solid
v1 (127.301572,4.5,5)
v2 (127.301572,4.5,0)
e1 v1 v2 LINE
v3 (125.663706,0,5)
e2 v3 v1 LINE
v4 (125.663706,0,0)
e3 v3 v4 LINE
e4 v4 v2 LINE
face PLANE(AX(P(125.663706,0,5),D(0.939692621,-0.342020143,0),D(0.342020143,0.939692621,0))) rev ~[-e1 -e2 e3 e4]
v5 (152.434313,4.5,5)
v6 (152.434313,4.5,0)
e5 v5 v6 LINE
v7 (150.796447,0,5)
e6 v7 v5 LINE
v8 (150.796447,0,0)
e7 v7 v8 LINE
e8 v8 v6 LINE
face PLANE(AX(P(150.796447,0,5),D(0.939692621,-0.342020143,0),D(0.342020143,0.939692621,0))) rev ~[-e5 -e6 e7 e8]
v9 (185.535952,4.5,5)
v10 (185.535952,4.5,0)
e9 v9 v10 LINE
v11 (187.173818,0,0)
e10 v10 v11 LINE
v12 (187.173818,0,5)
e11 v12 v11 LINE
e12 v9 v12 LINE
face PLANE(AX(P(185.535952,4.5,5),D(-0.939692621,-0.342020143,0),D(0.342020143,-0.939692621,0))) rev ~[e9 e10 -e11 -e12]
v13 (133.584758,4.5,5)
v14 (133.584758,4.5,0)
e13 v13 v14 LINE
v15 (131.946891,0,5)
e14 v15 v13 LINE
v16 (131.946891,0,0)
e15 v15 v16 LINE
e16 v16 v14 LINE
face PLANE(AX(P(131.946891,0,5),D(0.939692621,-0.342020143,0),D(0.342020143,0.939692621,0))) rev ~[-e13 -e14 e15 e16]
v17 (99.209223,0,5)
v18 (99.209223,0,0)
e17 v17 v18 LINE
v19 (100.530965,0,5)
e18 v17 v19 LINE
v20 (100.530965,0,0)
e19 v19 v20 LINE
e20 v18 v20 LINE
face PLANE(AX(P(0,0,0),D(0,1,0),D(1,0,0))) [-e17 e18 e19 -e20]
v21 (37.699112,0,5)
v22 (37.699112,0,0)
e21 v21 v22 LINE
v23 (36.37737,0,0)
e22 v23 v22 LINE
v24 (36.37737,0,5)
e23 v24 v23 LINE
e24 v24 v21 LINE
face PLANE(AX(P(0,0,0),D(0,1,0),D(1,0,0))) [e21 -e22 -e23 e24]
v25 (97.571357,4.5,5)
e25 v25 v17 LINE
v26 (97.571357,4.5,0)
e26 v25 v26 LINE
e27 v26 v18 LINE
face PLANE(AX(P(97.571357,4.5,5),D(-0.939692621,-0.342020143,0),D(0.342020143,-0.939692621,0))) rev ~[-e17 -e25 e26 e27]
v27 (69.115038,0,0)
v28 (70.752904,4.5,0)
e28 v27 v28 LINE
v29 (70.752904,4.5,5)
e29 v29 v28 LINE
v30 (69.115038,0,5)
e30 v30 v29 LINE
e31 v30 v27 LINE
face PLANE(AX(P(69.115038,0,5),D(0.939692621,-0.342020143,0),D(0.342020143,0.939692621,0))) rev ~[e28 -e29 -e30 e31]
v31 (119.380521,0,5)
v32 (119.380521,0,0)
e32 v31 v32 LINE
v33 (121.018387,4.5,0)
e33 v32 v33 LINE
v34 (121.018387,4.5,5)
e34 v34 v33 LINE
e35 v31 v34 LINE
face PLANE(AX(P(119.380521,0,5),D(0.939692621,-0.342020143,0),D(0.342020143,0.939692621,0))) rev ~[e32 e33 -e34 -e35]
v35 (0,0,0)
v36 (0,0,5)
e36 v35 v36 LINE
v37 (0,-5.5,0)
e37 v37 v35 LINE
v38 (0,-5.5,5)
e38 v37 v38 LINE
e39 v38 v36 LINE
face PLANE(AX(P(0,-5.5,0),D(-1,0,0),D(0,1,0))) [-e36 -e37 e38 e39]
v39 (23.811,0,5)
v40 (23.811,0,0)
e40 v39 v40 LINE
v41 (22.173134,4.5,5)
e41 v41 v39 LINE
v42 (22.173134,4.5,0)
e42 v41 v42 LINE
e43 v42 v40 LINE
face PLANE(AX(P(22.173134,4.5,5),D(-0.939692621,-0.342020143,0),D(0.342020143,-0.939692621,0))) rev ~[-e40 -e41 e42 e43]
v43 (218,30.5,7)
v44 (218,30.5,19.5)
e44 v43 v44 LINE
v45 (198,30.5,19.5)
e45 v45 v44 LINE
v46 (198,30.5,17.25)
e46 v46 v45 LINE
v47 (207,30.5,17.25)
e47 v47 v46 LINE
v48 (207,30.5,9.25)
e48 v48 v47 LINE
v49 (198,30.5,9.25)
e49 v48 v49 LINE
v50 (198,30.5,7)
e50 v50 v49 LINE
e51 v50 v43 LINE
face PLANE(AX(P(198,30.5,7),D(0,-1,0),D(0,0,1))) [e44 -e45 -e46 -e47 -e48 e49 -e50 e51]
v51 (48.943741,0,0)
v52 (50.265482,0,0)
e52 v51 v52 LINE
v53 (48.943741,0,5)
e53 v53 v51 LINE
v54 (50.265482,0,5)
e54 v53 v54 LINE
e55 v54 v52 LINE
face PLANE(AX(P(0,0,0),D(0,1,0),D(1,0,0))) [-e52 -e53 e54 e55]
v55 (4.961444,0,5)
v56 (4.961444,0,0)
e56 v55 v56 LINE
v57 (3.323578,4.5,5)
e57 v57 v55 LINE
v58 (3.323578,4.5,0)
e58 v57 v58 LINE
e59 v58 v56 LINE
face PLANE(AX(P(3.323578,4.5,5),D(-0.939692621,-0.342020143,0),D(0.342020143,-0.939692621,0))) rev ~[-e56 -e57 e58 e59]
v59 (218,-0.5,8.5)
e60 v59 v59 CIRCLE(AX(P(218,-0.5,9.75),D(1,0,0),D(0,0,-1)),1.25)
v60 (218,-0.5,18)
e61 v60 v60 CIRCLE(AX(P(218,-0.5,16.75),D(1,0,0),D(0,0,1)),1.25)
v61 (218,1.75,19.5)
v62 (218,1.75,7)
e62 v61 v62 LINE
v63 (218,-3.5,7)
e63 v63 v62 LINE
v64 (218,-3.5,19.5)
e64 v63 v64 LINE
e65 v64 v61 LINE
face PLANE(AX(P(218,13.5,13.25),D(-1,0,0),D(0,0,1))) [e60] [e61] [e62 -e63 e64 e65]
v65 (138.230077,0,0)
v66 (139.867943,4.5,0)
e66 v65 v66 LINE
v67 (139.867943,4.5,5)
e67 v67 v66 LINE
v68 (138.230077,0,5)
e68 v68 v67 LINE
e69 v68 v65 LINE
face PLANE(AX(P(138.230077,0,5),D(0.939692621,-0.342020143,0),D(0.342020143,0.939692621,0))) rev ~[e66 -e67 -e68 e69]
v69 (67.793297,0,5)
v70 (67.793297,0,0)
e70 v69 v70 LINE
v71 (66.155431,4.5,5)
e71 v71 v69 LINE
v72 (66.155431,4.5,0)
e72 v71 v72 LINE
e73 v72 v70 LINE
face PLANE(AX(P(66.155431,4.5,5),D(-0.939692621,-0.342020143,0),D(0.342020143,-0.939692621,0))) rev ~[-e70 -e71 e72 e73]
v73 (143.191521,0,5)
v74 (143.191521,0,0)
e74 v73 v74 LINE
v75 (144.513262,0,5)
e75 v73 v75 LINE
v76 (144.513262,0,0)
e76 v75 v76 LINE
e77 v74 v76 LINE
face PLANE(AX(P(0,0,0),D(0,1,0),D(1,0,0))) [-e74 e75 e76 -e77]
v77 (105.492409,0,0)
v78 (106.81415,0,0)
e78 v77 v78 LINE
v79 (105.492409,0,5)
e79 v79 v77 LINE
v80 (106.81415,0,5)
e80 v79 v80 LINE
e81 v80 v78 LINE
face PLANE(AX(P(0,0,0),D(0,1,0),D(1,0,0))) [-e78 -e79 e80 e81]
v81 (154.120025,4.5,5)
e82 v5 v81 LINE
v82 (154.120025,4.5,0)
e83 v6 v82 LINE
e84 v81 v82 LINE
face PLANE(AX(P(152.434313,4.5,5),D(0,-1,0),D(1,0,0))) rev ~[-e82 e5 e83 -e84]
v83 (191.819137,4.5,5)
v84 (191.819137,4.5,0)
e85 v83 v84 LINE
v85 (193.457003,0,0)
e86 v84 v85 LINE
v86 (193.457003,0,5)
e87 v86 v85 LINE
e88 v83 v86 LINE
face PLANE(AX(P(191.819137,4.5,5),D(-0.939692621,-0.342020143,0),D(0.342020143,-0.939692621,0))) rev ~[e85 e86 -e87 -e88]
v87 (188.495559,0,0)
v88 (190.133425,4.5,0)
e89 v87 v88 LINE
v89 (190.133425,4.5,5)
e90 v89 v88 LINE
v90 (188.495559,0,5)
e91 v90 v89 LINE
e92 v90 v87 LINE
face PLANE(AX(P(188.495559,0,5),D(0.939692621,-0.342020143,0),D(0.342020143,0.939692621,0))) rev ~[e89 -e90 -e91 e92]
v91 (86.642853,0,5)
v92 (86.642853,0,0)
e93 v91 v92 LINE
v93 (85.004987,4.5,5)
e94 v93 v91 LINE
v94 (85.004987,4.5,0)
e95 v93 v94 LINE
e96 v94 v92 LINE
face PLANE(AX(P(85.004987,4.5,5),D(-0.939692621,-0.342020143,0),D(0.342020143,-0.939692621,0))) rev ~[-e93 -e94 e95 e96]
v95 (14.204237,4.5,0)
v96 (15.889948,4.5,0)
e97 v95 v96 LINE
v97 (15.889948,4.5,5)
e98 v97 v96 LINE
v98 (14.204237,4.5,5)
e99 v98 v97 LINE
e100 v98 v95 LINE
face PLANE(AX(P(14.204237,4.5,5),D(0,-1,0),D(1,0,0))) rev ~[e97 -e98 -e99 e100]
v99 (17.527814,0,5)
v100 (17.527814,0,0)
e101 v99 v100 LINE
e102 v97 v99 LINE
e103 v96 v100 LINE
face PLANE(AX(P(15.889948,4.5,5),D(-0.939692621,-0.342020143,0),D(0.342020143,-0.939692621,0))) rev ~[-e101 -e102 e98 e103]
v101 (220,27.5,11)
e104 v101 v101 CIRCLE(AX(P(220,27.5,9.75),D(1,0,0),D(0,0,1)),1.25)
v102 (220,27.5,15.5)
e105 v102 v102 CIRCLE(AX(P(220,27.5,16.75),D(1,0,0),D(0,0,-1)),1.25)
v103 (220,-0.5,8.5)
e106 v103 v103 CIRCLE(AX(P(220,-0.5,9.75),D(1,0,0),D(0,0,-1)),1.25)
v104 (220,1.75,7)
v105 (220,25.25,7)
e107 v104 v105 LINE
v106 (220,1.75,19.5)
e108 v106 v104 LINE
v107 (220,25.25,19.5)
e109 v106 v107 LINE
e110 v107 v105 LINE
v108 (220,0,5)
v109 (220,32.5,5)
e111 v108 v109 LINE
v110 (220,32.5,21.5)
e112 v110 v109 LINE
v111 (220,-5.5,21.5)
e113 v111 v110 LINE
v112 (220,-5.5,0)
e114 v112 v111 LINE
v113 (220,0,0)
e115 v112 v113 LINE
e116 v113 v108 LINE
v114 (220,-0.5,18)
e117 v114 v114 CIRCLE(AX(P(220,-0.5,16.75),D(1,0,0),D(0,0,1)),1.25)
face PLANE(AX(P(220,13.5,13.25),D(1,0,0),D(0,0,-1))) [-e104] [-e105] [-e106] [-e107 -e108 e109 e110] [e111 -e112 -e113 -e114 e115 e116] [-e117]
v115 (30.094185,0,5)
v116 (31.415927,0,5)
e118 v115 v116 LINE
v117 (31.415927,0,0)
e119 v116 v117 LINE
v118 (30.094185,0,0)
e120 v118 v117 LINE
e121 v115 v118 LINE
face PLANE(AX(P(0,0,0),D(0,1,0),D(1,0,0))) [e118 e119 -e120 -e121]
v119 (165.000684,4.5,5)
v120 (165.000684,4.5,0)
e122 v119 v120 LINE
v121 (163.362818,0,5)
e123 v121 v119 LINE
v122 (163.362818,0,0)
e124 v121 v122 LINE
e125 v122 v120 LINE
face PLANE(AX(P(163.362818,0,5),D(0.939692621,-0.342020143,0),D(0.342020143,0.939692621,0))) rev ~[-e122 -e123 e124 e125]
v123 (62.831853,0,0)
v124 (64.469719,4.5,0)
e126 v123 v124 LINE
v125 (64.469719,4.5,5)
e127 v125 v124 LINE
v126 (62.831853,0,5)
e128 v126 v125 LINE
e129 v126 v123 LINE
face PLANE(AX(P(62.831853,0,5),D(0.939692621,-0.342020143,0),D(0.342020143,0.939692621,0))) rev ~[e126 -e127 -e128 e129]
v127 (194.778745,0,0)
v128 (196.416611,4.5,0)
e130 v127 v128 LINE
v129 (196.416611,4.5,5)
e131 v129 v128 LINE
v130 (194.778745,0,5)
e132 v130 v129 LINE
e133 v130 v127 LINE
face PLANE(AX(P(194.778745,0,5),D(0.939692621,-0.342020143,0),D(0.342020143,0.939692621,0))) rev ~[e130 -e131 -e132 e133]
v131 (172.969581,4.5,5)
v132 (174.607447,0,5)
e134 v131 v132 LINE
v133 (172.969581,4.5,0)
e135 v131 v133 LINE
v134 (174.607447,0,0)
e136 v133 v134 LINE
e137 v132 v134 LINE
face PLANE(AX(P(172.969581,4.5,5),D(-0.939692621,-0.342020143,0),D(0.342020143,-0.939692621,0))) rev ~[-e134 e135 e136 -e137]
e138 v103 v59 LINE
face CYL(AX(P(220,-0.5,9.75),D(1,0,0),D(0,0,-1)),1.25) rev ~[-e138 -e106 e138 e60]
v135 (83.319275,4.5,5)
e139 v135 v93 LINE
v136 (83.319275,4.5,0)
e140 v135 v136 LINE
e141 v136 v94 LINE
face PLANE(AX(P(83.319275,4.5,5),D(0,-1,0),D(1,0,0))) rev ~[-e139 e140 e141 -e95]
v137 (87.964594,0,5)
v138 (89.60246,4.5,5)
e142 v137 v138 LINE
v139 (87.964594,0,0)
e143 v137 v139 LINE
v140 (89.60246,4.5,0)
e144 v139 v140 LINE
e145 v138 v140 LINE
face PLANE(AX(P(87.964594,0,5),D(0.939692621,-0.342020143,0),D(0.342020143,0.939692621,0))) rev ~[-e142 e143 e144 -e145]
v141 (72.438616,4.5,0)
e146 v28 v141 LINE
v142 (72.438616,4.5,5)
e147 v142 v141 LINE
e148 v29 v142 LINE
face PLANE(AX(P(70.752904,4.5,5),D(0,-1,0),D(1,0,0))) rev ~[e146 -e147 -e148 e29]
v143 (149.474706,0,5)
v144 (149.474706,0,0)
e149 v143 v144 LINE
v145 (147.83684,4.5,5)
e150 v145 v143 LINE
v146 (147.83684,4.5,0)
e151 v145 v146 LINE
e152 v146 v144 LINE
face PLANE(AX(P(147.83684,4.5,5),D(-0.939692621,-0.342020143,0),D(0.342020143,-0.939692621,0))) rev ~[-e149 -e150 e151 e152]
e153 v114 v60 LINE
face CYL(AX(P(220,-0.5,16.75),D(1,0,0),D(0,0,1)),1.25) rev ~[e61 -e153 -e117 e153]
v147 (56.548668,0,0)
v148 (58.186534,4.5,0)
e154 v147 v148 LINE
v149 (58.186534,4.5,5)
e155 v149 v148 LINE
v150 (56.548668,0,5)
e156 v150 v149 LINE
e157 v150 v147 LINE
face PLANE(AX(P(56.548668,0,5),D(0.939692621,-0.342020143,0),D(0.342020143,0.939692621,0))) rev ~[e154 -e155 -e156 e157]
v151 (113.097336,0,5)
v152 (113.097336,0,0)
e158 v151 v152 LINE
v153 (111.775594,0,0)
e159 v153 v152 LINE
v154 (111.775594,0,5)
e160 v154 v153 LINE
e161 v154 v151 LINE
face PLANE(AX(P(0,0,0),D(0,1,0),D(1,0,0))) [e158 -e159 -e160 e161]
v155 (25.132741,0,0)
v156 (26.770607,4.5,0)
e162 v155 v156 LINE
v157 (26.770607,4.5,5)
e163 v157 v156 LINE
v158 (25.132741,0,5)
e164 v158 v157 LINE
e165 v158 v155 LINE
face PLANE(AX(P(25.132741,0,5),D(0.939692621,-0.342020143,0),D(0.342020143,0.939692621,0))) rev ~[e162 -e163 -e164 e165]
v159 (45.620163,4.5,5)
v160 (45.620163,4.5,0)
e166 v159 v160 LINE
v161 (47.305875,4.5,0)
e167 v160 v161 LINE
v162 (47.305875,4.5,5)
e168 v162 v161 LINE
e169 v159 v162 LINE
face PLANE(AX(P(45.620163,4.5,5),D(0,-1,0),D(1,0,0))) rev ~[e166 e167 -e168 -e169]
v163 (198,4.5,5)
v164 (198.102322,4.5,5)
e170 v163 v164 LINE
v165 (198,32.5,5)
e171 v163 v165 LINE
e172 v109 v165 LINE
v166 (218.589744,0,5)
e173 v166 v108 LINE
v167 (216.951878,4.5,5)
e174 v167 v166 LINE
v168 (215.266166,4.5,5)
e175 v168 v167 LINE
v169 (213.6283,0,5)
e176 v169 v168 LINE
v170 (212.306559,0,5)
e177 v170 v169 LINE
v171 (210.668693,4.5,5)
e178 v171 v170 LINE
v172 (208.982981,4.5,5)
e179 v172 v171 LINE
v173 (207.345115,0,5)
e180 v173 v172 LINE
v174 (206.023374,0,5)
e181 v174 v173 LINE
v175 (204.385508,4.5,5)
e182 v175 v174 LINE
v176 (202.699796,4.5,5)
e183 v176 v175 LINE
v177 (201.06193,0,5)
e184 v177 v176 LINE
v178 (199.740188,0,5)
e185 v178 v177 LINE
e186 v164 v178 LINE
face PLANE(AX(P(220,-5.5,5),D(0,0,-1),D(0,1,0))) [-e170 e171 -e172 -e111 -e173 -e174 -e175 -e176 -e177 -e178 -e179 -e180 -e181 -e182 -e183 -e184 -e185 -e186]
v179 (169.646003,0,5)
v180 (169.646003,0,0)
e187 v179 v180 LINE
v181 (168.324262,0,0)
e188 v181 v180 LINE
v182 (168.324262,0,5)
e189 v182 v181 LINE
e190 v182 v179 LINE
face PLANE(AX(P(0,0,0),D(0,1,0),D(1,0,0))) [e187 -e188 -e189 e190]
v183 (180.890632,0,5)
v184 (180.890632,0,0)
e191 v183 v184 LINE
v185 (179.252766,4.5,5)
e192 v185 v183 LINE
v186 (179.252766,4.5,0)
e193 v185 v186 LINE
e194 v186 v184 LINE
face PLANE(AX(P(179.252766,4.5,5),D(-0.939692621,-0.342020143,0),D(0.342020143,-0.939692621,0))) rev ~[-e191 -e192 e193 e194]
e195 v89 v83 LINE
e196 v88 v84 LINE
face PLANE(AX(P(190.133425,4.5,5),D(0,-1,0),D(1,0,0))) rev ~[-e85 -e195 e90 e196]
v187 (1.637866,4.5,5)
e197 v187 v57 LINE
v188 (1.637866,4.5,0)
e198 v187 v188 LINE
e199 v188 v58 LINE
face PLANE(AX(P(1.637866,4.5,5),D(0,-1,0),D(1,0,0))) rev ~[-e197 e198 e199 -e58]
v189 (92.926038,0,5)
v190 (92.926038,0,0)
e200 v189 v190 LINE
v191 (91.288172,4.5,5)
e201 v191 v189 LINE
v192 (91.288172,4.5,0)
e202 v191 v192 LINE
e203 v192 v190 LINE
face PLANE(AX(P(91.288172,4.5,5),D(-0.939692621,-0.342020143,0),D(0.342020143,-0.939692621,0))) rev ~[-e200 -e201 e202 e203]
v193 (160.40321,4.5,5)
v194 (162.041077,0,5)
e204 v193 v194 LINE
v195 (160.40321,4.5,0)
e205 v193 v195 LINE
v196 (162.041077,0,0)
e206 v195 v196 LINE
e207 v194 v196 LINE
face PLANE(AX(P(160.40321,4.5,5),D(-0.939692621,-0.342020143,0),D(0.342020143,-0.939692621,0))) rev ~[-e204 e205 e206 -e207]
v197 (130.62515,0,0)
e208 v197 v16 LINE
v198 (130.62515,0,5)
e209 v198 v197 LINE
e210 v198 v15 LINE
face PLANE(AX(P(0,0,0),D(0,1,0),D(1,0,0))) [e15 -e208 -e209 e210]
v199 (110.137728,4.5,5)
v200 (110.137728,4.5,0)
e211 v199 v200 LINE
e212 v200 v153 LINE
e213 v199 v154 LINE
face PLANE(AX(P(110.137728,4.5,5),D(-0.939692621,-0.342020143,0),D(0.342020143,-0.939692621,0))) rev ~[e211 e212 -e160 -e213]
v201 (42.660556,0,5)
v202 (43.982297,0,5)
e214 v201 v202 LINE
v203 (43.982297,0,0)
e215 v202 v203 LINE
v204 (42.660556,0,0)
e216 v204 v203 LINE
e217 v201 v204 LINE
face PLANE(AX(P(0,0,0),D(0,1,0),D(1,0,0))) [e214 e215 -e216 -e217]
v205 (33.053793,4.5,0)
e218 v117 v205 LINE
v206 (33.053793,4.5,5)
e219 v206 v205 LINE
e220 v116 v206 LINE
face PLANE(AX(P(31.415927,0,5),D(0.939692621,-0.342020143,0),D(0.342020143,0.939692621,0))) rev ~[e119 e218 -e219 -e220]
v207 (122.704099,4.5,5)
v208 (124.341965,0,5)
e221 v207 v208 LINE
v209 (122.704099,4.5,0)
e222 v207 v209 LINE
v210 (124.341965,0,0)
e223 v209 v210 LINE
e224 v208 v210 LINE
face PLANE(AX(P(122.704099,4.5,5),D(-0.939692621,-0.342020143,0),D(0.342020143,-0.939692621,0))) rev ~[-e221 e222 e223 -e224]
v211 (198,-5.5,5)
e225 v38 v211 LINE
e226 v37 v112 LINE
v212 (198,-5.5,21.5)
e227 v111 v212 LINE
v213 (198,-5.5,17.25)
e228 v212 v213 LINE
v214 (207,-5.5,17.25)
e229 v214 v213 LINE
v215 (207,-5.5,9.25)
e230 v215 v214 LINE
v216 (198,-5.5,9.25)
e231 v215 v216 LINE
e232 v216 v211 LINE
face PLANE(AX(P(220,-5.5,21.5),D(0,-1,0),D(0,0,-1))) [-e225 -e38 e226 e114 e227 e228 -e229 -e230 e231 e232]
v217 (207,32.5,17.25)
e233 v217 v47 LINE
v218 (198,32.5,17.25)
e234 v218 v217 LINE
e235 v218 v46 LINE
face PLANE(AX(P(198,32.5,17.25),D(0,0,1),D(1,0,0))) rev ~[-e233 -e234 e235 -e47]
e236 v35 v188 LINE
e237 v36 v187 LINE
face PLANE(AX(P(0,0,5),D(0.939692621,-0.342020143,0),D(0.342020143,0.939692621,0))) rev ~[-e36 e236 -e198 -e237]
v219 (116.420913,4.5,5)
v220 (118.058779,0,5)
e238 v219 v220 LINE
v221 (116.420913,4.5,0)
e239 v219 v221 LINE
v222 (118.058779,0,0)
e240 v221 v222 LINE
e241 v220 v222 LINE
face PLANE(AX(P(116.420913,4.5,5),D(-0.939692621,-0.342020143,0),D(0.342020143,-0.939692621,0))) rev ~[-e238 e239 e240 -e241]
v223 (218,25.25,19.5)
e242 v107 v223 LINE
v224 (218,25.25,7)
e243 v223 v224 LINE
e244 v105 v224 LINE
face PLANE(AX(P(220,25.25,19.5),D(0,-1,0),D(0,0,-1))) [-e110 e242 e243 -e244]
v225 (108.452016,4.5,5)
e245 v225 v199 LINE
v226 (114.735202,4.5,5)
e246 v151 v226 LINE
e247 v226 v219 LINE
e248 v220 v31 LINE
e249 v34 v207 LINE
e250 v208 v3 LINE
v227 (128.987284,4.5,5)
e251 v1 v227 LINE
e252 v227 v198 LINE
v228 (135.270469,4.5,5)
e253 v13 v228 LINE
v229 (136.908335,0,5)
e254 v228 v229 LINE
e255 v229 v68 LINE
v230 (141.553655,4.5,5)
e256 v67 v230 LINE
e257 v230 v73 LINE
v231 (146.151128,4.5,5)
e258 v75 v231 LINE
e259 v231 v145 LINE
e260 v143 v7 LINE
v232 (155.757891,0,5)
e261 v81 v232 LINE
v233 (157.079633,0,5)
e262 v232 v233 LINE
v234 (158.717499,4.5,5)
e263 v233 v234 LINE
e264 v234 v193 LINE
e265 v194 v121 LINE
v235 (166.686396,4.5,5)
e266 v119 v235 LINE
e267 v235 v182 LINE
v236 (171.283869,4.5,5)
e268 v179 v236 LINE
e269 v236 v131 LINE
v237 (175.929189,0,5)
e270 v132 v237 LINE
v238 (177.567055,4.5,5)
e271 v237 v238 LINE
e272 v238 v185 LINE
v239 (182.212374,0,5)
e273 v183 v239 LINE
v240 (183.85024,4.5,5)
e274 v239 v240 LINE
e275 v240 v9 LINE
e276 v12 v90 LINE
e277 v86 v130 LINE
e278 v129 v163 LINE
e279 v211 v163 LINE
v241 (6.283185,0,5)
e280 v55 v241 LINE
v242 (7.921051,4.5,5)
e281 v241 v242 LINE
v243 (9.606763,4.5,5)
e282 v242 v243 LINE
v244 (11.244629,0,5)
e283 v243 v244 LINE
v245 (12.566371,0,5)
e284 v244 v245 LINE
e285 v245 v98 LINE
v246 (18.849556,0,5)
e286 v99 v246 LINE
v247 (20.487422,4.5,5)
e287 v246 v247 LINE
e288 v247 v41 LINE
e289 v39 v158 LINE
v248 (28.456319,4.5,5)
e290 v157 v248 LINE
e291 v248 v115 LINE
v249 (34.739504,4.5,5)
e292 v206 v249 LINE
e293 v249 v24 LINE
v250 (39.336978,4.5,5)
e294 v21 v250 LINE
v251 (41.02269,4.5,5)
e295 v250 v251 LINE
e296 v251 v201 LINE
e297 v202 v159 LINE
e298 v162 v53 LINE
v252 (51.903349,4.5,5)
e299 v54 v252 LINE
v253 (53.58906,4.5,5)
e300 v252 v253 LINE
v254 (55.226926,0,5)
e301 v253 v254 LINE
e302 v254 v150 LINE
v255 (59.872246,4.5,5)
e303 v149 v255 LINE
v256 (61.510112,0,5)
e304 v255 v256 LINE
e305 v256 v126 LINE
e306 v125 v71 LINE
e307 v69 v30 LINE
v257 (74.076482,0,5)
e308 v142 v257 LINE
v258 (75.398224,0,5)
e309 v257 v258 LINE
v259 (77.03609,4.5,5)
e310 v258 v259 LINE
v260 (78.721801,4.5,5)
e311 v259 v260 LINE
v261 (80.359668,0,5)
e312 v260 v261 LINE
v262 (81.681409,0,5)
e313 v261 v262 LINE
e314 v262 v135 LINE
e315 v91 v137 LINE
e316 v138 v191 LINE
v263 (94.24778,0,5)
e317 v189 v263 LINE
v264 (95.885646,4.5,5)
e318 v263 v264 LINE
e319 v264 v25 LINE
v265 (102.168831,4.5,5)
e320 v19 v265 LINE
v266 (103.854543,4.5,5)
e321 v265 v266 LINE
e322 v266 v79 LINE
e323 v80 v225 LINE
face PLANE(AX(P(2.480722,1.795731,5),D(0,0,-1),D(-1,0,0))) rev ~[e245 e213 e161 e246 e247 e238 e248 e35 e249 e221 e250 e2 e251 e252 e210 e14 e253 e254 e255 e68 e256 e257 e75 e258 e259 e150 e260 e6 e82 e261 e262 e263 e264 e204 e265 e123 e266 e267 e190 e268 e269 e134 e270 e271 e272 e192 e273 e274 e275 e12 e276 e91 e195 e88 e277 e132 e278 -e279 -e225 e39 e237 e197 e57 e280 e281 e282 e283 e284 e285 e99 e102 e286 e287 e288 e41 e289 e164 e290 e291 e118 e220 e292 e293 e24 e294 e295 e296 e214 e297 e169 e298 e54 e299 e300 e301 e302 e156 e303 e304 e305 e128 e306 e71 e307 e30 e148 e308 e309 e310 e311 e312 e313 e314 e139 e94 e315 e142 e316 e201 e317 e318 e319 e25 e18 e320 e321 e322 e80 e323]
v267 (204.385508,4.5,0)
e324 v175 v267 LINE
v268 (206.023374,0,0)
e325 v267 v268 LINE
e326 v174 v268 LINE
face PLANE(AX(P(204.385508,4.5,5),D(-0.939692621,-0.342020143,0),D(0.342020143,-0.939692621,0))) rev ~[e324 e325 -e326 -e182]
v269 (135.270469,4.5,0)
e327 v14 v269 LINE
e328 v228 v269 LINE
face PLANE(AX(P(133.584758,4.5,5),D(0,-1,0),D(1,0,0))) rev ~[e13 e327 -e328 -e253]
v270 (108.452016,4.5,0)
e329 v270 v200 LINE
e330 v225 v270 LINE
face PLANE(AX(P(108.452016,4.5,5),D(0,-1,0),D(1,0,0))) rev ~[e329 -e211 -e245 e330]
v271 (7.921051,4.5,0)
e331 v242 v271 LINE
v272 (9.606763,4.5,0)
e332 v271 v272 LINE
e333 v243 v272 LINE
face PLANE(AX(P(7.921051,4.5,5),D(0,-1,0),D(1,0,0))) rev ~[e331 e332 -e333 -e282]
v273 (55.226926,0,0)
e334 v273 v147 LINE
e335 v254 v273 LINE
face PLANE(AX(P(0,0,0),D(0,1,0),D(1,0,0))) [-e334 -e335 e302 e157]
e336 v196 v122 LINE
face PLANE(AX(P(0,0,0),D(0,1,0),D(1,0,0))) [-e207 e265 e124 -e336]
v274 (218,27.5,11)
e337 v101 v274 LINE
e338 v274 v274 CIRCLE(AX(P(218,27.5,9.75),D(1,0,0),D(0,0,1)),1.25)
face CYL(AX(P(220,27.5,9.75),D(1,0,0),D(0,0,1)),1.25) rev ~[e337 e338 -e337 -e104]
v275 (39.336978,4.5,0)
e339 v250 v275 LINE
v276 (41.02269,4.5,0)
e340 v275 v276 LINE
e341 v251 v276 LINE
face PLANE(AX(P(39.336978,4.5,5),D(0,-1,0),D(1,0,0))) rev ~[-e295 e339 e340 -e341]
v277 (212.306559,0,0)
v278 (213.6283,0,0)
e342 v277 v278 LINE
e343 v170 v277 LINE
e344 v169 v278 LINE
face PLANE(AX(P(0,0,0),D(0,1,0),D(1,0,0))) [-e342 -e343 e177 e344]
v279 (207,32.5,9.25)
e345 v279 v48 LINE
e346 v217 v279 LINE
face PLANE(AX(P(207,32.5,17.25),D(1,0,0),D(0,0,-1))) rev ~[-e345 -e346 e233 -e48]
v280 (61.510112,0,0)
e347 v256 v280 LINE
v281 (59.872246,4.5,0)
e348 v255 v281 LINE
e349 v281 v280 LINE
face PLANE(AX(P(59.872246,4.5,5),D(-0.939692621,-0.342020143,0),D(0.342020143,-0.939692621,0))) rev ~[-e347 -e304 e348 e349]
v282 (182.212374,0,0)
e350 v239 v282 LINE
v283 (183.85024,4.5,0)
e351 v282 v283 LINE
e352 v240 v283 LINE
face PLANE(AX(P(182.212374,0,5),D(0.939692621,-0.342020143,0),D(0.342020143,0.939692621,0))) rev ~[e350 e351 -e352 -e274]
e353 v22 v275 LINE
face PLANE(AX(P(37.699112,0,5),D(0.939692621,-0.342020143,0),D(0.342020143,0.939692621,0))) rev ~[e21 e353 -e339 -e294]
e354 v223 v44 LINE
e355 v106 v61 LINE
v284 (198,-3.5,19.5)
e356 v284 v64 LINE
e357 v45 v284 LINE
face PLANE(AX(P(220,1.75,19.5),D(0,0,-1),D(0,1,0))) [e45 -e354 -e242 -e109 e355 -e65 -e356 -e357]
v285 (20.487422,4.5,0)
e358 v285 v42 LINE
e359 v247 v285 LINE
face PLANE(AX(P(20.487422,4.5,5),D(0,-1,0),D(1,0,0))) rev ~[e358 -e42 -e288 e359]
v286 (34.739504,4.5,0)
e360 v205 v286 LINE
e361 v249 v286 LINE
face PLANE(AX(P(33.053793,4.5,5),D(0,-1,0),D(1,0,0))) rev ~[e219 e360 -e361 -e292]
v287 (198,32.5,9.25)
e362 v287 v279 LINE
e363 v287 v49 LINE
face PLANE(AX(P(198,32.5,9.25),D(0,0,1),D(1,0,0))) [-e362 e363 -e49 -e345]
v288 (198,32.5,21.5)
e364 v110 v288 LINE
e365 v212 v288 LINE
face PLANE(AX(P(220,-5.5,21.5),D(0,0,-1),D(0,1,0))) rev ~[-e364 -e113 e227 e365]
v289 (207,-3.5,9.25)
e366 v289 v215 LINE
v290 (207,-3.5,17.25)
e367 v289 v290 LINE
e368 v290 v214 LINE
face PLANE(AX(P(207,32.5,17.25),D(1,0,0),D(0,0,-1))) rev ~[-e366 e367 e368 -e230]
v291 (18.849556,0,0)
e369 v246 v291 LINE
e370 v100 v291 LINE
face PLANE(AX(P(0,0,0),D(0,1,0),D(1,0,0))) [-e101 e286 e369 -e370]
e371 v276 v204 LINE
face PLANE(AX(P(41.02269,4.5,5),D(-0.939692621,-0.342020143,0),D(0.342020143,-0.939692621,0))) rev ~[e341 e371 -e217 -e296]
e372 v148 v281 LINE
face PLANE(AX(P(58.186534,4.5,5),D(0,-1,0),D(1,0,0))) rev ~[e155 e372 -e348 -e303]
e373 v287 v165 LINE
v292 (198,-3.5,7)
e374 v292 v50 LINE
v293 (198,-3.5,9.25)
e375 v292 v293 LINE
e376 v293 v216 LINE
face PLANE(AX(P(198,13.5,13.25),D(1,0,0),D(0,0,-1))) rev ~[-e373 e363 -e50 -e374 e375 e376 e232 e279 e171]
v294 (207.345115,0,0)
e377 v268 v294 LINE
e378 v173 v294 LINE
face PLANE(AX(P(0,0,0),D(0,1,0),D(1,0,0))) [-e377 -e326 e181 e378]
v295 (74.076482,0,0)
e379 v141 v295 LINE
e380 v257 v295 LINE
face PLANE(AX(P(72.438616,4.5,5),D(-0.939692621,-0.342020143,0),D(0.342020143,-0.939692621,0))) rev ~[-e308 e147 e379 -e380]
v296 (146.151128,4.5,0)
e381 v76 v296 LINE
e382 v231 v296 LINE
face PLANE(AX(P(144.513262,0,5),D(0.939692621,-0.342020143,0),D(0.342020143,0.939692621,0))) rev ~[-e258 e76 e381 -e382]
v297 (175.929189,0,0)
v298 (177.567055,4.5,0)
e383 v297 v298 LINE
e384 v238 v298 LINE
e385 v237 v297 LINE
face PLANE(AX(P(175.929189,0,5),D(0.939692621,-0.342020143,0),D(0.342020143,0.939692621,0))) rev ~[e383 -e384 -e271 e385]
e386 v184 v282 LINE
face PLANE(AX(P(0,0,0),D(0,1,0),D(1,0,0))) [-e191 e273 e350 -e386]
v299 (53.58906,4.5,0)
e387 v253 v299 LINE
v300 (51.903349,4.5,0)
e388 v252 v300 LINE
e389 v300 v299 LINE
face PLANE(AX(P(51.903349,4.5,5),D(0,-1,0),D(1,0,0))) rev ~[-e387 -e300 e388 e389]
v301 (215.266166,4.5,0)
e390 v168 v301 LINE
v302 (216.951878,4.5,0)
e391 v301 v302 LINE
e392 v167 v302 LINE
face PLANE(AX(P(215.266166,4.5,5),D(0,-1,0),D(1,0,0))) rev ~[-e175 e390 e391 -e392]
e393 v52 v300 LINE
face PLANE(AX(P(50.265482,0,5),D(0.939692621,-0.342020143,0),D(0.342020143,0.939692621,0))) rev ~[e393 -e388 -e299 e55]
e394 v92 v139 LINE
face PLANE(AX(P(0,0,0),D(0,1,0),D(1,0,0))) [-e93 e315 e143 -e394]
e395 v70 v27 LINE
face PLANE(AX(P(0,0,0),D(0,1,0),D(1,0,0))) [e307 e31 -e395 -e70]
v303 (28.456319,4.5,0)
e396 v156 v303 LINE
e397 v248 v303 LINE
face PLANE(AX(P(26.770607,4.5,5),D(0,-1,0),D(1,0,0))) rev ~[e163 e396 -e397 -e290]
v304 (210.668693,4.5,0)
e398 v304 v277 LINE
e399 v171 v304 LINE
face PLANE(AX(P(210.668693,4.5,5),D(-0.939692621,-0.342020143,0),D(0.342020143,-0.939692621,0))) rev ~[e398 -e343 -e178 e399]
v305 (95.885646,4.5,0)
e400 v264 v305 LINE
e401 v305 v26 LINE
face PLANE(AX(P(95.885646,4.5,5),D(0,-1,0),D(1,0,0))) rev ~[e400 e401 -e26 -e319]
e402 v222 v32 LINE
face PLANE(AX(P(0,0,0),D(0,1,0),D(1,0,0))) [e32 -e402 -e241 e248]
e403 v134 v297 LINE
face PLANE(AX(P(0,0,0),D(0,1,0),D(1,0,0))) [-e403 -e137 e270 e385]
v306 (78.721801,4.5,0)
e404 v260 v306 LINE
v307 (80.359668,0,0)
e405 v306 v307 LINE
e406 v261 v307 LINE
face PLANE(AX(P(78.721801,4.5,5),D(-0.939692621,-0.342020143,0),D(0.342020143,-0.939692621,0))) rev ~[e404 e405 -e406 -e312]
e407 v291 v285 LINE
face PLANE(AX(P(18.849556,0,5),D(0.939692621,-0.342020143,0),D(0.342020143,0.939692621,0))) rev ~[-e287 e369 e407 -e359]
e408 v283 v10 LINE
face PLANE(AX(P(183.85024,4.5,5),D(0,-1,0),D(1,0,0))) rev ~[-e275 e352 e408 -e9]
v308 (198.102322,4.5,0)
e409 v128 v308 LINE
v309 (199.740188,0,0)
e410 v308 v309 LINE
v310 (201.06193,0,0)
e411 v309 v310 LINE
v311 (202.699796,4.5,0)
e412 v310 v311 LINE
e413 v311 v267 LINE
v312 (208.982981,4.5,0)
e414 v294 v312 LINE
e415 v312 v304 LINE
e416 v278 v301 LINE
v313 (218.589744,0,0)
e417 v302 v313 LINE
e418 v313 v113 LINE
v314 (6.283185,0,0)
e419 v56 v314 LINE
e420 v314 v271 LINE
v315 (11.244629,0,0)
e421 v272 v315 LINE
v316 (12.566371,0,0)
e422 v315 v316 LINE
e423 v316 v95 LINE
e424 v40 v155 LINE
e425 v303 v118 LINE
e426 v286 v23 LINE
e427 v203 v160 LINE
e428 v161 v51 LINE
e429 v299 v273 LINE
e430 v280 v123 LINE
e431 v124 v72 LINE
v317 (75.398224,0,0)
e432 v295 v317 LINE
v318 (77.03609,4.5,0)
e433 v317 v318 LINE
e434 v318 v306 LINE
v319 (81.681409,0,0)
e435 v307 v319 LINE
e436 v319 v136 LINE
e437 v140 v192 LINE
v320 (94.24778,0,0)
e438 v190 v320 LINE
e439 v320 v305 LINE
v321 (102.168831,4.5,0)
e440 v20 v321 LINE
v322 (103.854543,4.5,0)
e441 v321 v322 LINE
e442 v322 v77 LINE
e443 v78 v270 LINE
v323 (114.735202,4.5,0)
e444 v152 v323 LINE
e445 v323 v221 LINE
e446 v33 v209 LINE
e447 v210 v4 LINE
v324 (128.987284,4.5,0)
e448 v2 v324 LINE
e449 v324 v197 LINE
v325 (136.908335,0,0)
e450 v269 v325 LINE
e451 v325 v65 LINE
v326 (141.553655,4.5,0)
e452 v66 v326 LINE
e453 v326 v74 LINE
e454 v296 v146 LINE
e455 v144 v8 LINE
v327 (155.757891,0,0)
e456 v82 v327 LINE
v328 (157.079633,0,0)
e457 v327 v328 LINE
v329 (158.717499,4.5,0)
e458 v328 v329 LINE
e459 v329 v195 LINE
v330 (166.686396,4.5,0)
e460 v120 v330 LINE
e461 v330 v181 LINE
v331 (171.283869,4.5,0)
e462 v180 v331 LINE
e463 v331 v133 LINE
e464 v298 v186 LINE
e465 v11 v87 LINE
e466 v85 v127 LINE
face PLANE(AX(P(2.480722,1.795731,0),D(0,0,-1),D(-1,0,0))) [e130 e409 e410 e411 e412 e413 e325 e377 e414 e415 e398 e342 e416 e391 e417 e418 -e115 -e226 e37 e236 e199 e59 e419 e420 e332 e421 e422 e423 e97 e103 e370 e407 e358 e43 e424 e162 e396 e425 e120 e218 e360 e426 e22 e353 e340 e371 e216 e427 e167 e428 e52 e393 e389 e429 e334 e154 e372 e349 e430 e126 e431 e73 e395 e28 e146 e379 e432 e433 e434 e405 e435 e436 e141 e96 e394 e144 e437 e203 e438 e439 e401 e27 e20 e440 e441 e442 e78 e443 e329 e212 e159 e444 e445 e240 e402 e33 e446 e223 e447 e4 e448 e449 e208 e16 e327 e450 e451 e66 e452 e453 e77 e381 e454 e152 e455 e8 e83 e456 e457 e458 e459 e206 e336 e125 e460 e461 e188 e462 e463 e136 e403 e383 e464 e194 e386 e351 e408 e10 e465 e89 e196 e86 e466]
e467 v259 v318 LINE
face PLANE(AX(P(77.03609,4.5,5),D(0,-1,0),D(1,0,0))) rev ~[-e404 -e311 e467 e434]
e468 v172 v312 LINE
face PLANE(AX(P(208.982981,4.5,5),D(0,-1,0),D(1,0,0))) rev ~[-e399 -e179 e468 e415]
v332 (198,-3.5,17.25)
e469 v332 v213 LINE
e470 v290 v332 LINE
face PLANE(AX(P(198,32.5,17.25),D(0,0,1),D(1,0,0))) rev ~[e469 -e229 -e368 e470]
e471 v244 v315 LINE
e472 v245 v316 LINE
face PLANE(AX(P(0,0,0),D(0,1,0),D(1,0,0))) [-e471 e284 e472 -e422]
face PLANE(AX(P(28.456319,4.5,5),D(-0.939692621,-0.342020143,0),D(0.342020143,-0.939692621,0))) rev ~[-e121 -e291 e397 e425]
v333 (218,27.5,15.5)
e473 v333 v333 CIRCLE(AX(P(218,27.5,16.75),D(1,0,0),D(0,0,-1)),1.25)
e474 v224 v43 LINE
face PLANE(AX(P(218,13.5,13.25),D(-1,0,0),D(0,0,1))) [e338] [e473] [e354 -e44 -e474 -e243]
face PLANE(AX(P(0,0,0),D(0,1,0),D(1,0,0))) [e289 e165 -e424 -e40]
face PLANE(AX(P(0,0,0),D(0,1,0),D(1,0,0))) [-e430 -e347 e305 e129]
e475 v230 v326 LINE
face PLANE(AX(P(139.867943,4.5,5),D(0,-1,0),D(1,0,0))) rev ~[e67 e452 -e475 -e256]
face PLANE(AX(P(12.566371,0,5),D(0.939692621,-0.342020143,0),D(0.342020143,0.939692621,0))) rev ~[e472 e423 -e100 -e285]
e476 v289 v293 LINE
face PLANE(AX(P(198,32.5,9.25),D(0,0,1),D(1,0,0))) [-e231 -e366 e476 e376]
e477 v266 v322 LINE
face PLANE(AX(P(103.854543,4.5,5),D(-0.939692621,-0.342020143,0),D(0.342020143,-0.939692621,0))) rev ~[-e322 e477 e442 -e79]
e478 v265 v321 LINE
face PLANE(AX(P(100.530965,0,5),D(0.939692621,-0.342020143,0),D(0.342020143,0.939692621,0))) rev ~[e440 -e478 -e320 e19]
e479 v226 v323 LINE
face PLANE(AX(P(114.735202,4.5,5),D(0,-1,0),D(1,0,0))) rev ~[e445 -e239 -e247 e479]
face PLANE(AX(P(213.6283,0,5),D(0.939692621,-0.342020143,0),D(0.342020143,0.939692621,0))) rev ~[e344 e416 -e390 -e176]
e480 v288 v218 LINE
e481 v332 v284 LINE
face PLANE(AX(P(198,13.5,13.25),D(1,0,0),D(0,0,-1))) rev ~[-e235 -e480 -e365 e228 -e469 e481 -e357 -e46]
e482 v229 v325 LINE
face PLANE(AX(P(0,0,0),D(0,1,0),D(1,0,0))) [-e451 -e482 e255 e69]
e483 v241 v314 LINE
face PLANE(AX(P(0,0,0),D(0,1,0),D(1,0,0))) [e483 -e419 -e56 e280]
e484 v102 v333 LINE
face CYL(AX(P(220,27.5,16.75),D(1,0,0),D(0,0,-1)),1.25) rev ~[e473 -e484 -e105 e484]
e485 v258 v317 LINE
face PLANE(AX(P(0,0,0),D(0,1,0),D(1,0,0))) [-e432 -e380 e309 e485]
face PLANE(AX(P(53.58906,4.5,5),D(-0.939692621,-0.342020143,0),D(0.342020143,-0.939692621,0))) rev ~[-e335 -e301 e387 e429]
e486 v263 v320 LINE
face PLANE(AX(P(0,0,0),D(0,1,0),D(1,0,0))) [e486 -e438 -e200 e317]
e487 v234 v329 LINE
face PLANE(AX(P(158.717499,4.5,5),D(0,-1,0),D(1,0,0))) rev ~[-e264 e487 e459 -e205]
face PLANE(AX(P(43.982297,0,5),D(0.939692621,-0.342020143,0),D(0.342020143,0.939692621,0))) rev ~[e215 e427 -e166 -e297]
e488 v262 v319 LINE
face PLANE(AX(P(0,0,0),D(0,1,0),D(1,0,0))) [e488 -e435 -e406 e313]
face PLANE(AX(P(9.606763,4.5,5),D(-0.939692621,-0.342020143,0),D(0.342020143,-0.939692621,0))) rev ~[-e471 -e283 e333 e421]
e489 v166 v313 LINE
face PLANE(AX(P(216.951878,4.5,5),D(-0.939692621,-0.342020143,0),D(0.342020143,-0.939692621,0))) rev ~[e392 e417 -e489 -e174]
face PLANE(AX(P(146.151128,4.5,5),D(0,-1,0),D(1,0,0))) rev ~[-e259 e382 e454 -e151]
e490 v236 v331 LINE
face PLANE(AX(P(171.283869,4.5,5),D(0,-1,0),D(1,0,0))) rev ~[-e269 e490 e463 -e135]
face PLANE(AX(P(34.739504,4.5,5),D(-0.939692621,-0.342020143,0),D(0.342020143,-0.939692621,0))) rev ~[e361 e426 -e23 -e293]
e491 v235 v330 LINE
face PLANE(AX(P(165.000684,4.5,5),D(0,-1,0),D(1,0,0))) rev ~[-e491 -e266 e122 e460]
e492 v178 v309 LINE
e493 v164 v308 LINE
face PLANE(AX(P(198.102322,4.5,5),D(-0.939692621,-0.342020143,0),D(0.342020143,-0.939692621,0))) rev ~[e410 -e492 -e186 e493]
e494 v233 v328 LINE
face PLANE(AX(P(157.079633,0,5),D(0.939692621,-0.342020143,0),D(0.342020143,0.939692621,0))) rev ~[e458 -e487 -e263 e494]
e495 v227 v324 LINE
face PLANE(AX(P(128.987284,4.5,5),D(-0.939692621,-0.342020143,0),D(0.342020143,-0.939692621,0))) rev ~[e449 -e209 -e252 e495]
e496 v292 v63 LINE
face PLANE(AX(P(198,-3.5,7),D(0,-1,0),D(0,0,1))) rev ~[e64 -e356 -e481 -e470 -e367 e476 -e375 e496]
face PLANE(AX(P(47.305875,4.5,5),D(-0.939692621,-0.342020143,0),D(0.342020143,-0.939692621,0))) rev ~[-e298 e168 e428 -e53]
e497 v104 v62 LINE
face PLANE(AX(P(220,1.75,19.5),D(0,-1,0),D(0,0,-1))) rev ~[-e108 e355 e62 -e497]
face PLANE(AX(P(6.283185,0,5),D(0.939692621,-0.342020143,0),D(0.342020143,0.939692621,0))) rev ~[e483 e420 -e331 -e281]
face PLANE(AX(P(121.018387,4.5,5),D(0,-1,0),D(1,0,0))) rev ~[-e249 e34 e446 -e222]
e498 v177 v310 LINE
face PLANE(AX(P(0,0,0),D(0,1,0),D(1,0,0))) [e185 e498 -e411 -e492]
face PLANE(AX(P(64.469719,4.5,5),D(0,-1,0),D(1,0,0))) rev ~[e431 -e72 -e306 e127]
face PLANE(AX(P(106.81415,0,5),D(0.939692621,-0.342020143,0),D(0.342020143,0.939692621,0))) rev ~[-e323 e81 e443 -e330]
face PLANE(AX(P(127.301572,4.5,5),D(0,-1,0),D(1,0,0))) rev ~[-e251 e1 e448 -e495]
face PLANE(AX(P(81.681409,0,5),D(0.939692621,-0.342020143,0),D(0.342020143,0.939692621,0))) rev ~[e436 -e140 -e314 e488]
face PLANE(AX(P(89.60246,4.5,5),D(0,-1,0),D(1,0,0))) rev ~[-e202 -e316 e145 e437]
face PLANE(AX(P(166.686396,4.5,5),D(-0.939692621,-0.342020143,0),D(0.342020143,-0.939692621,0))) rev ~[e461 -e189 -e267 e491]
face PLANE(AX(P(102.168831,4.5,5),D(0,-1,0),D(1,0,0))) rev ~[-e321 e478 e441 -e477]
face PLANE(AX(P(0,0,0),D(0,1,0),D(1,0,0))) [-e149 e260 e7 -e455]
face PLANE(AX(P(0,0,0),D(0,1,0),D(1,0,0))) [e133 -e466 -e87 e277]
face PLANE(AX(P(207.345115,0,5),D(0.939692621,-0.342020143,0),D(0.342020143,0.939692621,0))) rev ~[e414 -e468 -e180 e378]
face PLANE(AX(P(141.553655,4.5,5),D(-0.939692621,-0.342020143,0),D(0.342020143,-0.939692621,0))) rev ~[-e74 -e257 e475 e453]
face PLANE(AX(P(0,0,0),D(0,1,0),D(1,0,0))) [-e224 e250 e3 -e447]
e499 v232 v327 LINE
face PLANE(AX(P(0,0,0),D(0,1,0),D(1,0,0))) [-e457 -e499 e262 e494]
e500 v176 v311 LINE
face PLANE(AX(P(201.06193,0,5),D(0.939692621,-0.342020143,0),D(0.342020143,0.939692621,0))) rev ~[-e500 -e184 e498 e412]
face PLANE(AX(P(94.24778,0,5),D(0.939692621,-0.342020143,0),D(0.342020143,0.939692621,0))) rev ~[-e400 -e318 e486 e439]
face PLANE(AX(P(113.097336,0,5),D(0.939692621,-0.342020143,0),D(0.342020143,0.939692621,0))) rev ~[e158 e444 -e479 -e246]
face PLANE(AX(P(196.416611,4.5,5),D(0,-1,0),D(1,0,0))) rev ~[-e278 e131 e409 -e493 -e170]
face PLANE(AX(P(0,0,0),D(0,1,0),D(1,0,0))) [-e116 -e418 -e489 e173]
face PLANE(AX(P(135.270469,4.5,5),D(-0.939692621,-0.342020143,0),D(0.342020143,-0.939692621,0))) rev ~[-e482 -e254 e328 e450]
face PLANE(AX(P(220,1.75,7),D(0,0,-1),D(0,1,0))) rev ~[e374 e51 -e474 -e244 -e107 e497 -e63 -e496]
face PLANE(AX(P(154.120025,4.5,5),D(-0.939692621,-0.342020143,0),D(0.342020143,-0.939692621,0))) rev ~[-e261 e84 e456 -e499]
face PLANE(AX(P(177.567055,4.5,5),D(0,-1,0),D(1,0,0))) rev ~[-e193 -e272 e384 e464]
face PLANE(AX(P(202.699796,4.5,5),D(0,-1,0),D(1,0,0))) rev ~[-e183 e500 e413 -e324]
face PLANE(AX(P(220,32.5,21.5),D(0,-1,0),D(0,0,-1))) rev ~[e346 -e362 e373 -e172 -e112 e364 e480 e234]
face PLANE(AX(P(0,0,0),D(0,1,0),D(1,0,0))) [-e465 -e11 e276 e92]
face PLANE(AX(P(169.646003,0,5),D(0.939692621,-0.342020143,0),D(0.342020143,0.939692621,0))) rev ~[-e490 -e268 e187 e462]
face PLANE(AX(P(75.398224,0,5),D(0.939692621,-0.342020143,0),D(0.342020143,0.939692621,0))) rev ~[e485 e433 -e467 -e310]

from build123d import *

# Parameters (mm, degrees)
SKETCH_1_W             = 220
SKETCH_1_H             = 5.5
EXTRUDE_1_DEPTH        = 5
EXTRUDE_2_DEPTH        = 5
PATTERN_LINEAR_1_COUNT = 35
PATTERN_LINEAR_1_PITCH = 6.283185307
SKETCH_4_W             = 16.5
SKETCH_4_H             = 38
SKETCH_4_R             = 1.25
SKETCH_4_W_2           = 12.5
SKETCH_4_H_2           = 23.5
EXTRUDE_1_2_DEPTH      = 22
SKETCH_5_W             = 12.5
SKETCH_5_H             = 34
CUT_EXTRUDE_1_DEPTH    = 20
SKETCH_6_W             = 9
SKETCH_6_H             = 8
CUT_EXTRUDE_2_DEPTH    = 225.290548174


with BuildPart() as part:
    # 草图1 → Extrude 1 (new body)
    with BuildSketch(Plane.XY):
        with Locations((110, -2.75)):
            Rectangle(SKETCH_1_W, SKETCH_1_H)
    extrude(amount=EXTRUDE_1_DEPTH)

    # 草图2 → 拉伸2 (add)
    with BuildSketch(Plane.XY.offset(5)):
        Polygon((0, 0), (1.637866054, 4.5), (3.323577771, 4.5), (4.961443825, 0), align=None)
    extrude_2 = extrude(amount=-EXTRUDE_2_DEPTH)

    # 阵列(线性)1: 拉伸2 ×35
    with Locations(*[(i * PATTERN_LINEAR_1_PITCH, 0, 0) for i in range(1, PATTERN_LINEAR_1_COUNT)]):
        add(extrude_2)

    # 草图4 → Extrude 1 2 (add)
    with BuildSketch(Plane(origin=(220, 0, 0), x_dir=(0, 0, -1), z_dir=(1, 0, 0))):
        with Locations((-13.25, 13.5)):
            Rectangle(SKETCH_4_W, SKETCH_4_H)
        with Locations((-16.75, 27.5)):
            Circle(SKETCH_4_R, mode=Mode.SUBTRACT)
        with Locations(Location((-9.75, 27.5, 0), (0, 0, 180))):
            Circle(SKETCH_4_R, mode=Mode.SUBTRACT)
        with Locations((-9.75, -0.5)):
            Circle(SKETCH_4_R, mode=Mode.SUBTRACT)
        with Locations(Location((-16.75, -0.5, 0), (0, 0, 180))):
            Circle(SKETCH_4_R, mode=Mode.SUBTRACT)
        with Locations((-13.25, 13.5)):
            Rectangle(SKETCH_4_W_2, SKETCH_4_H_2, mode=Mode.SUBTRACT)
    extrude(amount=-EXTRUDE_1_2_DEPTH)

    # 草图5 → 切除-拉伸1 (cut)
    with BuildSketch(Plane.ZY.offset(-198)):
        with Locations((13.25, 13.5)):
            Rectangle(SKETCH_5_W, SKETCH_5_H)
    extrude(amount=-CUT_EXTRUDE_1_DEPTH, mode=Mode.SUBTRACT)

    # 草图6 → 切除-拉伸2 (cut, through all)
    with BuildSketch(Plane(origin=(0, 32.5, 0), x_dir=(1, 0, 0), z_dir=(0, 1, 0))):
        with Locations((202.5, -13.25)):
            Rectangle(SKETCH_6_W, SKETCH_6_H)
    extrude(amount=-CUT_EXTRUDE_2_DEPTH, mode=Mode.SUBTRACT)


solid = part.part
